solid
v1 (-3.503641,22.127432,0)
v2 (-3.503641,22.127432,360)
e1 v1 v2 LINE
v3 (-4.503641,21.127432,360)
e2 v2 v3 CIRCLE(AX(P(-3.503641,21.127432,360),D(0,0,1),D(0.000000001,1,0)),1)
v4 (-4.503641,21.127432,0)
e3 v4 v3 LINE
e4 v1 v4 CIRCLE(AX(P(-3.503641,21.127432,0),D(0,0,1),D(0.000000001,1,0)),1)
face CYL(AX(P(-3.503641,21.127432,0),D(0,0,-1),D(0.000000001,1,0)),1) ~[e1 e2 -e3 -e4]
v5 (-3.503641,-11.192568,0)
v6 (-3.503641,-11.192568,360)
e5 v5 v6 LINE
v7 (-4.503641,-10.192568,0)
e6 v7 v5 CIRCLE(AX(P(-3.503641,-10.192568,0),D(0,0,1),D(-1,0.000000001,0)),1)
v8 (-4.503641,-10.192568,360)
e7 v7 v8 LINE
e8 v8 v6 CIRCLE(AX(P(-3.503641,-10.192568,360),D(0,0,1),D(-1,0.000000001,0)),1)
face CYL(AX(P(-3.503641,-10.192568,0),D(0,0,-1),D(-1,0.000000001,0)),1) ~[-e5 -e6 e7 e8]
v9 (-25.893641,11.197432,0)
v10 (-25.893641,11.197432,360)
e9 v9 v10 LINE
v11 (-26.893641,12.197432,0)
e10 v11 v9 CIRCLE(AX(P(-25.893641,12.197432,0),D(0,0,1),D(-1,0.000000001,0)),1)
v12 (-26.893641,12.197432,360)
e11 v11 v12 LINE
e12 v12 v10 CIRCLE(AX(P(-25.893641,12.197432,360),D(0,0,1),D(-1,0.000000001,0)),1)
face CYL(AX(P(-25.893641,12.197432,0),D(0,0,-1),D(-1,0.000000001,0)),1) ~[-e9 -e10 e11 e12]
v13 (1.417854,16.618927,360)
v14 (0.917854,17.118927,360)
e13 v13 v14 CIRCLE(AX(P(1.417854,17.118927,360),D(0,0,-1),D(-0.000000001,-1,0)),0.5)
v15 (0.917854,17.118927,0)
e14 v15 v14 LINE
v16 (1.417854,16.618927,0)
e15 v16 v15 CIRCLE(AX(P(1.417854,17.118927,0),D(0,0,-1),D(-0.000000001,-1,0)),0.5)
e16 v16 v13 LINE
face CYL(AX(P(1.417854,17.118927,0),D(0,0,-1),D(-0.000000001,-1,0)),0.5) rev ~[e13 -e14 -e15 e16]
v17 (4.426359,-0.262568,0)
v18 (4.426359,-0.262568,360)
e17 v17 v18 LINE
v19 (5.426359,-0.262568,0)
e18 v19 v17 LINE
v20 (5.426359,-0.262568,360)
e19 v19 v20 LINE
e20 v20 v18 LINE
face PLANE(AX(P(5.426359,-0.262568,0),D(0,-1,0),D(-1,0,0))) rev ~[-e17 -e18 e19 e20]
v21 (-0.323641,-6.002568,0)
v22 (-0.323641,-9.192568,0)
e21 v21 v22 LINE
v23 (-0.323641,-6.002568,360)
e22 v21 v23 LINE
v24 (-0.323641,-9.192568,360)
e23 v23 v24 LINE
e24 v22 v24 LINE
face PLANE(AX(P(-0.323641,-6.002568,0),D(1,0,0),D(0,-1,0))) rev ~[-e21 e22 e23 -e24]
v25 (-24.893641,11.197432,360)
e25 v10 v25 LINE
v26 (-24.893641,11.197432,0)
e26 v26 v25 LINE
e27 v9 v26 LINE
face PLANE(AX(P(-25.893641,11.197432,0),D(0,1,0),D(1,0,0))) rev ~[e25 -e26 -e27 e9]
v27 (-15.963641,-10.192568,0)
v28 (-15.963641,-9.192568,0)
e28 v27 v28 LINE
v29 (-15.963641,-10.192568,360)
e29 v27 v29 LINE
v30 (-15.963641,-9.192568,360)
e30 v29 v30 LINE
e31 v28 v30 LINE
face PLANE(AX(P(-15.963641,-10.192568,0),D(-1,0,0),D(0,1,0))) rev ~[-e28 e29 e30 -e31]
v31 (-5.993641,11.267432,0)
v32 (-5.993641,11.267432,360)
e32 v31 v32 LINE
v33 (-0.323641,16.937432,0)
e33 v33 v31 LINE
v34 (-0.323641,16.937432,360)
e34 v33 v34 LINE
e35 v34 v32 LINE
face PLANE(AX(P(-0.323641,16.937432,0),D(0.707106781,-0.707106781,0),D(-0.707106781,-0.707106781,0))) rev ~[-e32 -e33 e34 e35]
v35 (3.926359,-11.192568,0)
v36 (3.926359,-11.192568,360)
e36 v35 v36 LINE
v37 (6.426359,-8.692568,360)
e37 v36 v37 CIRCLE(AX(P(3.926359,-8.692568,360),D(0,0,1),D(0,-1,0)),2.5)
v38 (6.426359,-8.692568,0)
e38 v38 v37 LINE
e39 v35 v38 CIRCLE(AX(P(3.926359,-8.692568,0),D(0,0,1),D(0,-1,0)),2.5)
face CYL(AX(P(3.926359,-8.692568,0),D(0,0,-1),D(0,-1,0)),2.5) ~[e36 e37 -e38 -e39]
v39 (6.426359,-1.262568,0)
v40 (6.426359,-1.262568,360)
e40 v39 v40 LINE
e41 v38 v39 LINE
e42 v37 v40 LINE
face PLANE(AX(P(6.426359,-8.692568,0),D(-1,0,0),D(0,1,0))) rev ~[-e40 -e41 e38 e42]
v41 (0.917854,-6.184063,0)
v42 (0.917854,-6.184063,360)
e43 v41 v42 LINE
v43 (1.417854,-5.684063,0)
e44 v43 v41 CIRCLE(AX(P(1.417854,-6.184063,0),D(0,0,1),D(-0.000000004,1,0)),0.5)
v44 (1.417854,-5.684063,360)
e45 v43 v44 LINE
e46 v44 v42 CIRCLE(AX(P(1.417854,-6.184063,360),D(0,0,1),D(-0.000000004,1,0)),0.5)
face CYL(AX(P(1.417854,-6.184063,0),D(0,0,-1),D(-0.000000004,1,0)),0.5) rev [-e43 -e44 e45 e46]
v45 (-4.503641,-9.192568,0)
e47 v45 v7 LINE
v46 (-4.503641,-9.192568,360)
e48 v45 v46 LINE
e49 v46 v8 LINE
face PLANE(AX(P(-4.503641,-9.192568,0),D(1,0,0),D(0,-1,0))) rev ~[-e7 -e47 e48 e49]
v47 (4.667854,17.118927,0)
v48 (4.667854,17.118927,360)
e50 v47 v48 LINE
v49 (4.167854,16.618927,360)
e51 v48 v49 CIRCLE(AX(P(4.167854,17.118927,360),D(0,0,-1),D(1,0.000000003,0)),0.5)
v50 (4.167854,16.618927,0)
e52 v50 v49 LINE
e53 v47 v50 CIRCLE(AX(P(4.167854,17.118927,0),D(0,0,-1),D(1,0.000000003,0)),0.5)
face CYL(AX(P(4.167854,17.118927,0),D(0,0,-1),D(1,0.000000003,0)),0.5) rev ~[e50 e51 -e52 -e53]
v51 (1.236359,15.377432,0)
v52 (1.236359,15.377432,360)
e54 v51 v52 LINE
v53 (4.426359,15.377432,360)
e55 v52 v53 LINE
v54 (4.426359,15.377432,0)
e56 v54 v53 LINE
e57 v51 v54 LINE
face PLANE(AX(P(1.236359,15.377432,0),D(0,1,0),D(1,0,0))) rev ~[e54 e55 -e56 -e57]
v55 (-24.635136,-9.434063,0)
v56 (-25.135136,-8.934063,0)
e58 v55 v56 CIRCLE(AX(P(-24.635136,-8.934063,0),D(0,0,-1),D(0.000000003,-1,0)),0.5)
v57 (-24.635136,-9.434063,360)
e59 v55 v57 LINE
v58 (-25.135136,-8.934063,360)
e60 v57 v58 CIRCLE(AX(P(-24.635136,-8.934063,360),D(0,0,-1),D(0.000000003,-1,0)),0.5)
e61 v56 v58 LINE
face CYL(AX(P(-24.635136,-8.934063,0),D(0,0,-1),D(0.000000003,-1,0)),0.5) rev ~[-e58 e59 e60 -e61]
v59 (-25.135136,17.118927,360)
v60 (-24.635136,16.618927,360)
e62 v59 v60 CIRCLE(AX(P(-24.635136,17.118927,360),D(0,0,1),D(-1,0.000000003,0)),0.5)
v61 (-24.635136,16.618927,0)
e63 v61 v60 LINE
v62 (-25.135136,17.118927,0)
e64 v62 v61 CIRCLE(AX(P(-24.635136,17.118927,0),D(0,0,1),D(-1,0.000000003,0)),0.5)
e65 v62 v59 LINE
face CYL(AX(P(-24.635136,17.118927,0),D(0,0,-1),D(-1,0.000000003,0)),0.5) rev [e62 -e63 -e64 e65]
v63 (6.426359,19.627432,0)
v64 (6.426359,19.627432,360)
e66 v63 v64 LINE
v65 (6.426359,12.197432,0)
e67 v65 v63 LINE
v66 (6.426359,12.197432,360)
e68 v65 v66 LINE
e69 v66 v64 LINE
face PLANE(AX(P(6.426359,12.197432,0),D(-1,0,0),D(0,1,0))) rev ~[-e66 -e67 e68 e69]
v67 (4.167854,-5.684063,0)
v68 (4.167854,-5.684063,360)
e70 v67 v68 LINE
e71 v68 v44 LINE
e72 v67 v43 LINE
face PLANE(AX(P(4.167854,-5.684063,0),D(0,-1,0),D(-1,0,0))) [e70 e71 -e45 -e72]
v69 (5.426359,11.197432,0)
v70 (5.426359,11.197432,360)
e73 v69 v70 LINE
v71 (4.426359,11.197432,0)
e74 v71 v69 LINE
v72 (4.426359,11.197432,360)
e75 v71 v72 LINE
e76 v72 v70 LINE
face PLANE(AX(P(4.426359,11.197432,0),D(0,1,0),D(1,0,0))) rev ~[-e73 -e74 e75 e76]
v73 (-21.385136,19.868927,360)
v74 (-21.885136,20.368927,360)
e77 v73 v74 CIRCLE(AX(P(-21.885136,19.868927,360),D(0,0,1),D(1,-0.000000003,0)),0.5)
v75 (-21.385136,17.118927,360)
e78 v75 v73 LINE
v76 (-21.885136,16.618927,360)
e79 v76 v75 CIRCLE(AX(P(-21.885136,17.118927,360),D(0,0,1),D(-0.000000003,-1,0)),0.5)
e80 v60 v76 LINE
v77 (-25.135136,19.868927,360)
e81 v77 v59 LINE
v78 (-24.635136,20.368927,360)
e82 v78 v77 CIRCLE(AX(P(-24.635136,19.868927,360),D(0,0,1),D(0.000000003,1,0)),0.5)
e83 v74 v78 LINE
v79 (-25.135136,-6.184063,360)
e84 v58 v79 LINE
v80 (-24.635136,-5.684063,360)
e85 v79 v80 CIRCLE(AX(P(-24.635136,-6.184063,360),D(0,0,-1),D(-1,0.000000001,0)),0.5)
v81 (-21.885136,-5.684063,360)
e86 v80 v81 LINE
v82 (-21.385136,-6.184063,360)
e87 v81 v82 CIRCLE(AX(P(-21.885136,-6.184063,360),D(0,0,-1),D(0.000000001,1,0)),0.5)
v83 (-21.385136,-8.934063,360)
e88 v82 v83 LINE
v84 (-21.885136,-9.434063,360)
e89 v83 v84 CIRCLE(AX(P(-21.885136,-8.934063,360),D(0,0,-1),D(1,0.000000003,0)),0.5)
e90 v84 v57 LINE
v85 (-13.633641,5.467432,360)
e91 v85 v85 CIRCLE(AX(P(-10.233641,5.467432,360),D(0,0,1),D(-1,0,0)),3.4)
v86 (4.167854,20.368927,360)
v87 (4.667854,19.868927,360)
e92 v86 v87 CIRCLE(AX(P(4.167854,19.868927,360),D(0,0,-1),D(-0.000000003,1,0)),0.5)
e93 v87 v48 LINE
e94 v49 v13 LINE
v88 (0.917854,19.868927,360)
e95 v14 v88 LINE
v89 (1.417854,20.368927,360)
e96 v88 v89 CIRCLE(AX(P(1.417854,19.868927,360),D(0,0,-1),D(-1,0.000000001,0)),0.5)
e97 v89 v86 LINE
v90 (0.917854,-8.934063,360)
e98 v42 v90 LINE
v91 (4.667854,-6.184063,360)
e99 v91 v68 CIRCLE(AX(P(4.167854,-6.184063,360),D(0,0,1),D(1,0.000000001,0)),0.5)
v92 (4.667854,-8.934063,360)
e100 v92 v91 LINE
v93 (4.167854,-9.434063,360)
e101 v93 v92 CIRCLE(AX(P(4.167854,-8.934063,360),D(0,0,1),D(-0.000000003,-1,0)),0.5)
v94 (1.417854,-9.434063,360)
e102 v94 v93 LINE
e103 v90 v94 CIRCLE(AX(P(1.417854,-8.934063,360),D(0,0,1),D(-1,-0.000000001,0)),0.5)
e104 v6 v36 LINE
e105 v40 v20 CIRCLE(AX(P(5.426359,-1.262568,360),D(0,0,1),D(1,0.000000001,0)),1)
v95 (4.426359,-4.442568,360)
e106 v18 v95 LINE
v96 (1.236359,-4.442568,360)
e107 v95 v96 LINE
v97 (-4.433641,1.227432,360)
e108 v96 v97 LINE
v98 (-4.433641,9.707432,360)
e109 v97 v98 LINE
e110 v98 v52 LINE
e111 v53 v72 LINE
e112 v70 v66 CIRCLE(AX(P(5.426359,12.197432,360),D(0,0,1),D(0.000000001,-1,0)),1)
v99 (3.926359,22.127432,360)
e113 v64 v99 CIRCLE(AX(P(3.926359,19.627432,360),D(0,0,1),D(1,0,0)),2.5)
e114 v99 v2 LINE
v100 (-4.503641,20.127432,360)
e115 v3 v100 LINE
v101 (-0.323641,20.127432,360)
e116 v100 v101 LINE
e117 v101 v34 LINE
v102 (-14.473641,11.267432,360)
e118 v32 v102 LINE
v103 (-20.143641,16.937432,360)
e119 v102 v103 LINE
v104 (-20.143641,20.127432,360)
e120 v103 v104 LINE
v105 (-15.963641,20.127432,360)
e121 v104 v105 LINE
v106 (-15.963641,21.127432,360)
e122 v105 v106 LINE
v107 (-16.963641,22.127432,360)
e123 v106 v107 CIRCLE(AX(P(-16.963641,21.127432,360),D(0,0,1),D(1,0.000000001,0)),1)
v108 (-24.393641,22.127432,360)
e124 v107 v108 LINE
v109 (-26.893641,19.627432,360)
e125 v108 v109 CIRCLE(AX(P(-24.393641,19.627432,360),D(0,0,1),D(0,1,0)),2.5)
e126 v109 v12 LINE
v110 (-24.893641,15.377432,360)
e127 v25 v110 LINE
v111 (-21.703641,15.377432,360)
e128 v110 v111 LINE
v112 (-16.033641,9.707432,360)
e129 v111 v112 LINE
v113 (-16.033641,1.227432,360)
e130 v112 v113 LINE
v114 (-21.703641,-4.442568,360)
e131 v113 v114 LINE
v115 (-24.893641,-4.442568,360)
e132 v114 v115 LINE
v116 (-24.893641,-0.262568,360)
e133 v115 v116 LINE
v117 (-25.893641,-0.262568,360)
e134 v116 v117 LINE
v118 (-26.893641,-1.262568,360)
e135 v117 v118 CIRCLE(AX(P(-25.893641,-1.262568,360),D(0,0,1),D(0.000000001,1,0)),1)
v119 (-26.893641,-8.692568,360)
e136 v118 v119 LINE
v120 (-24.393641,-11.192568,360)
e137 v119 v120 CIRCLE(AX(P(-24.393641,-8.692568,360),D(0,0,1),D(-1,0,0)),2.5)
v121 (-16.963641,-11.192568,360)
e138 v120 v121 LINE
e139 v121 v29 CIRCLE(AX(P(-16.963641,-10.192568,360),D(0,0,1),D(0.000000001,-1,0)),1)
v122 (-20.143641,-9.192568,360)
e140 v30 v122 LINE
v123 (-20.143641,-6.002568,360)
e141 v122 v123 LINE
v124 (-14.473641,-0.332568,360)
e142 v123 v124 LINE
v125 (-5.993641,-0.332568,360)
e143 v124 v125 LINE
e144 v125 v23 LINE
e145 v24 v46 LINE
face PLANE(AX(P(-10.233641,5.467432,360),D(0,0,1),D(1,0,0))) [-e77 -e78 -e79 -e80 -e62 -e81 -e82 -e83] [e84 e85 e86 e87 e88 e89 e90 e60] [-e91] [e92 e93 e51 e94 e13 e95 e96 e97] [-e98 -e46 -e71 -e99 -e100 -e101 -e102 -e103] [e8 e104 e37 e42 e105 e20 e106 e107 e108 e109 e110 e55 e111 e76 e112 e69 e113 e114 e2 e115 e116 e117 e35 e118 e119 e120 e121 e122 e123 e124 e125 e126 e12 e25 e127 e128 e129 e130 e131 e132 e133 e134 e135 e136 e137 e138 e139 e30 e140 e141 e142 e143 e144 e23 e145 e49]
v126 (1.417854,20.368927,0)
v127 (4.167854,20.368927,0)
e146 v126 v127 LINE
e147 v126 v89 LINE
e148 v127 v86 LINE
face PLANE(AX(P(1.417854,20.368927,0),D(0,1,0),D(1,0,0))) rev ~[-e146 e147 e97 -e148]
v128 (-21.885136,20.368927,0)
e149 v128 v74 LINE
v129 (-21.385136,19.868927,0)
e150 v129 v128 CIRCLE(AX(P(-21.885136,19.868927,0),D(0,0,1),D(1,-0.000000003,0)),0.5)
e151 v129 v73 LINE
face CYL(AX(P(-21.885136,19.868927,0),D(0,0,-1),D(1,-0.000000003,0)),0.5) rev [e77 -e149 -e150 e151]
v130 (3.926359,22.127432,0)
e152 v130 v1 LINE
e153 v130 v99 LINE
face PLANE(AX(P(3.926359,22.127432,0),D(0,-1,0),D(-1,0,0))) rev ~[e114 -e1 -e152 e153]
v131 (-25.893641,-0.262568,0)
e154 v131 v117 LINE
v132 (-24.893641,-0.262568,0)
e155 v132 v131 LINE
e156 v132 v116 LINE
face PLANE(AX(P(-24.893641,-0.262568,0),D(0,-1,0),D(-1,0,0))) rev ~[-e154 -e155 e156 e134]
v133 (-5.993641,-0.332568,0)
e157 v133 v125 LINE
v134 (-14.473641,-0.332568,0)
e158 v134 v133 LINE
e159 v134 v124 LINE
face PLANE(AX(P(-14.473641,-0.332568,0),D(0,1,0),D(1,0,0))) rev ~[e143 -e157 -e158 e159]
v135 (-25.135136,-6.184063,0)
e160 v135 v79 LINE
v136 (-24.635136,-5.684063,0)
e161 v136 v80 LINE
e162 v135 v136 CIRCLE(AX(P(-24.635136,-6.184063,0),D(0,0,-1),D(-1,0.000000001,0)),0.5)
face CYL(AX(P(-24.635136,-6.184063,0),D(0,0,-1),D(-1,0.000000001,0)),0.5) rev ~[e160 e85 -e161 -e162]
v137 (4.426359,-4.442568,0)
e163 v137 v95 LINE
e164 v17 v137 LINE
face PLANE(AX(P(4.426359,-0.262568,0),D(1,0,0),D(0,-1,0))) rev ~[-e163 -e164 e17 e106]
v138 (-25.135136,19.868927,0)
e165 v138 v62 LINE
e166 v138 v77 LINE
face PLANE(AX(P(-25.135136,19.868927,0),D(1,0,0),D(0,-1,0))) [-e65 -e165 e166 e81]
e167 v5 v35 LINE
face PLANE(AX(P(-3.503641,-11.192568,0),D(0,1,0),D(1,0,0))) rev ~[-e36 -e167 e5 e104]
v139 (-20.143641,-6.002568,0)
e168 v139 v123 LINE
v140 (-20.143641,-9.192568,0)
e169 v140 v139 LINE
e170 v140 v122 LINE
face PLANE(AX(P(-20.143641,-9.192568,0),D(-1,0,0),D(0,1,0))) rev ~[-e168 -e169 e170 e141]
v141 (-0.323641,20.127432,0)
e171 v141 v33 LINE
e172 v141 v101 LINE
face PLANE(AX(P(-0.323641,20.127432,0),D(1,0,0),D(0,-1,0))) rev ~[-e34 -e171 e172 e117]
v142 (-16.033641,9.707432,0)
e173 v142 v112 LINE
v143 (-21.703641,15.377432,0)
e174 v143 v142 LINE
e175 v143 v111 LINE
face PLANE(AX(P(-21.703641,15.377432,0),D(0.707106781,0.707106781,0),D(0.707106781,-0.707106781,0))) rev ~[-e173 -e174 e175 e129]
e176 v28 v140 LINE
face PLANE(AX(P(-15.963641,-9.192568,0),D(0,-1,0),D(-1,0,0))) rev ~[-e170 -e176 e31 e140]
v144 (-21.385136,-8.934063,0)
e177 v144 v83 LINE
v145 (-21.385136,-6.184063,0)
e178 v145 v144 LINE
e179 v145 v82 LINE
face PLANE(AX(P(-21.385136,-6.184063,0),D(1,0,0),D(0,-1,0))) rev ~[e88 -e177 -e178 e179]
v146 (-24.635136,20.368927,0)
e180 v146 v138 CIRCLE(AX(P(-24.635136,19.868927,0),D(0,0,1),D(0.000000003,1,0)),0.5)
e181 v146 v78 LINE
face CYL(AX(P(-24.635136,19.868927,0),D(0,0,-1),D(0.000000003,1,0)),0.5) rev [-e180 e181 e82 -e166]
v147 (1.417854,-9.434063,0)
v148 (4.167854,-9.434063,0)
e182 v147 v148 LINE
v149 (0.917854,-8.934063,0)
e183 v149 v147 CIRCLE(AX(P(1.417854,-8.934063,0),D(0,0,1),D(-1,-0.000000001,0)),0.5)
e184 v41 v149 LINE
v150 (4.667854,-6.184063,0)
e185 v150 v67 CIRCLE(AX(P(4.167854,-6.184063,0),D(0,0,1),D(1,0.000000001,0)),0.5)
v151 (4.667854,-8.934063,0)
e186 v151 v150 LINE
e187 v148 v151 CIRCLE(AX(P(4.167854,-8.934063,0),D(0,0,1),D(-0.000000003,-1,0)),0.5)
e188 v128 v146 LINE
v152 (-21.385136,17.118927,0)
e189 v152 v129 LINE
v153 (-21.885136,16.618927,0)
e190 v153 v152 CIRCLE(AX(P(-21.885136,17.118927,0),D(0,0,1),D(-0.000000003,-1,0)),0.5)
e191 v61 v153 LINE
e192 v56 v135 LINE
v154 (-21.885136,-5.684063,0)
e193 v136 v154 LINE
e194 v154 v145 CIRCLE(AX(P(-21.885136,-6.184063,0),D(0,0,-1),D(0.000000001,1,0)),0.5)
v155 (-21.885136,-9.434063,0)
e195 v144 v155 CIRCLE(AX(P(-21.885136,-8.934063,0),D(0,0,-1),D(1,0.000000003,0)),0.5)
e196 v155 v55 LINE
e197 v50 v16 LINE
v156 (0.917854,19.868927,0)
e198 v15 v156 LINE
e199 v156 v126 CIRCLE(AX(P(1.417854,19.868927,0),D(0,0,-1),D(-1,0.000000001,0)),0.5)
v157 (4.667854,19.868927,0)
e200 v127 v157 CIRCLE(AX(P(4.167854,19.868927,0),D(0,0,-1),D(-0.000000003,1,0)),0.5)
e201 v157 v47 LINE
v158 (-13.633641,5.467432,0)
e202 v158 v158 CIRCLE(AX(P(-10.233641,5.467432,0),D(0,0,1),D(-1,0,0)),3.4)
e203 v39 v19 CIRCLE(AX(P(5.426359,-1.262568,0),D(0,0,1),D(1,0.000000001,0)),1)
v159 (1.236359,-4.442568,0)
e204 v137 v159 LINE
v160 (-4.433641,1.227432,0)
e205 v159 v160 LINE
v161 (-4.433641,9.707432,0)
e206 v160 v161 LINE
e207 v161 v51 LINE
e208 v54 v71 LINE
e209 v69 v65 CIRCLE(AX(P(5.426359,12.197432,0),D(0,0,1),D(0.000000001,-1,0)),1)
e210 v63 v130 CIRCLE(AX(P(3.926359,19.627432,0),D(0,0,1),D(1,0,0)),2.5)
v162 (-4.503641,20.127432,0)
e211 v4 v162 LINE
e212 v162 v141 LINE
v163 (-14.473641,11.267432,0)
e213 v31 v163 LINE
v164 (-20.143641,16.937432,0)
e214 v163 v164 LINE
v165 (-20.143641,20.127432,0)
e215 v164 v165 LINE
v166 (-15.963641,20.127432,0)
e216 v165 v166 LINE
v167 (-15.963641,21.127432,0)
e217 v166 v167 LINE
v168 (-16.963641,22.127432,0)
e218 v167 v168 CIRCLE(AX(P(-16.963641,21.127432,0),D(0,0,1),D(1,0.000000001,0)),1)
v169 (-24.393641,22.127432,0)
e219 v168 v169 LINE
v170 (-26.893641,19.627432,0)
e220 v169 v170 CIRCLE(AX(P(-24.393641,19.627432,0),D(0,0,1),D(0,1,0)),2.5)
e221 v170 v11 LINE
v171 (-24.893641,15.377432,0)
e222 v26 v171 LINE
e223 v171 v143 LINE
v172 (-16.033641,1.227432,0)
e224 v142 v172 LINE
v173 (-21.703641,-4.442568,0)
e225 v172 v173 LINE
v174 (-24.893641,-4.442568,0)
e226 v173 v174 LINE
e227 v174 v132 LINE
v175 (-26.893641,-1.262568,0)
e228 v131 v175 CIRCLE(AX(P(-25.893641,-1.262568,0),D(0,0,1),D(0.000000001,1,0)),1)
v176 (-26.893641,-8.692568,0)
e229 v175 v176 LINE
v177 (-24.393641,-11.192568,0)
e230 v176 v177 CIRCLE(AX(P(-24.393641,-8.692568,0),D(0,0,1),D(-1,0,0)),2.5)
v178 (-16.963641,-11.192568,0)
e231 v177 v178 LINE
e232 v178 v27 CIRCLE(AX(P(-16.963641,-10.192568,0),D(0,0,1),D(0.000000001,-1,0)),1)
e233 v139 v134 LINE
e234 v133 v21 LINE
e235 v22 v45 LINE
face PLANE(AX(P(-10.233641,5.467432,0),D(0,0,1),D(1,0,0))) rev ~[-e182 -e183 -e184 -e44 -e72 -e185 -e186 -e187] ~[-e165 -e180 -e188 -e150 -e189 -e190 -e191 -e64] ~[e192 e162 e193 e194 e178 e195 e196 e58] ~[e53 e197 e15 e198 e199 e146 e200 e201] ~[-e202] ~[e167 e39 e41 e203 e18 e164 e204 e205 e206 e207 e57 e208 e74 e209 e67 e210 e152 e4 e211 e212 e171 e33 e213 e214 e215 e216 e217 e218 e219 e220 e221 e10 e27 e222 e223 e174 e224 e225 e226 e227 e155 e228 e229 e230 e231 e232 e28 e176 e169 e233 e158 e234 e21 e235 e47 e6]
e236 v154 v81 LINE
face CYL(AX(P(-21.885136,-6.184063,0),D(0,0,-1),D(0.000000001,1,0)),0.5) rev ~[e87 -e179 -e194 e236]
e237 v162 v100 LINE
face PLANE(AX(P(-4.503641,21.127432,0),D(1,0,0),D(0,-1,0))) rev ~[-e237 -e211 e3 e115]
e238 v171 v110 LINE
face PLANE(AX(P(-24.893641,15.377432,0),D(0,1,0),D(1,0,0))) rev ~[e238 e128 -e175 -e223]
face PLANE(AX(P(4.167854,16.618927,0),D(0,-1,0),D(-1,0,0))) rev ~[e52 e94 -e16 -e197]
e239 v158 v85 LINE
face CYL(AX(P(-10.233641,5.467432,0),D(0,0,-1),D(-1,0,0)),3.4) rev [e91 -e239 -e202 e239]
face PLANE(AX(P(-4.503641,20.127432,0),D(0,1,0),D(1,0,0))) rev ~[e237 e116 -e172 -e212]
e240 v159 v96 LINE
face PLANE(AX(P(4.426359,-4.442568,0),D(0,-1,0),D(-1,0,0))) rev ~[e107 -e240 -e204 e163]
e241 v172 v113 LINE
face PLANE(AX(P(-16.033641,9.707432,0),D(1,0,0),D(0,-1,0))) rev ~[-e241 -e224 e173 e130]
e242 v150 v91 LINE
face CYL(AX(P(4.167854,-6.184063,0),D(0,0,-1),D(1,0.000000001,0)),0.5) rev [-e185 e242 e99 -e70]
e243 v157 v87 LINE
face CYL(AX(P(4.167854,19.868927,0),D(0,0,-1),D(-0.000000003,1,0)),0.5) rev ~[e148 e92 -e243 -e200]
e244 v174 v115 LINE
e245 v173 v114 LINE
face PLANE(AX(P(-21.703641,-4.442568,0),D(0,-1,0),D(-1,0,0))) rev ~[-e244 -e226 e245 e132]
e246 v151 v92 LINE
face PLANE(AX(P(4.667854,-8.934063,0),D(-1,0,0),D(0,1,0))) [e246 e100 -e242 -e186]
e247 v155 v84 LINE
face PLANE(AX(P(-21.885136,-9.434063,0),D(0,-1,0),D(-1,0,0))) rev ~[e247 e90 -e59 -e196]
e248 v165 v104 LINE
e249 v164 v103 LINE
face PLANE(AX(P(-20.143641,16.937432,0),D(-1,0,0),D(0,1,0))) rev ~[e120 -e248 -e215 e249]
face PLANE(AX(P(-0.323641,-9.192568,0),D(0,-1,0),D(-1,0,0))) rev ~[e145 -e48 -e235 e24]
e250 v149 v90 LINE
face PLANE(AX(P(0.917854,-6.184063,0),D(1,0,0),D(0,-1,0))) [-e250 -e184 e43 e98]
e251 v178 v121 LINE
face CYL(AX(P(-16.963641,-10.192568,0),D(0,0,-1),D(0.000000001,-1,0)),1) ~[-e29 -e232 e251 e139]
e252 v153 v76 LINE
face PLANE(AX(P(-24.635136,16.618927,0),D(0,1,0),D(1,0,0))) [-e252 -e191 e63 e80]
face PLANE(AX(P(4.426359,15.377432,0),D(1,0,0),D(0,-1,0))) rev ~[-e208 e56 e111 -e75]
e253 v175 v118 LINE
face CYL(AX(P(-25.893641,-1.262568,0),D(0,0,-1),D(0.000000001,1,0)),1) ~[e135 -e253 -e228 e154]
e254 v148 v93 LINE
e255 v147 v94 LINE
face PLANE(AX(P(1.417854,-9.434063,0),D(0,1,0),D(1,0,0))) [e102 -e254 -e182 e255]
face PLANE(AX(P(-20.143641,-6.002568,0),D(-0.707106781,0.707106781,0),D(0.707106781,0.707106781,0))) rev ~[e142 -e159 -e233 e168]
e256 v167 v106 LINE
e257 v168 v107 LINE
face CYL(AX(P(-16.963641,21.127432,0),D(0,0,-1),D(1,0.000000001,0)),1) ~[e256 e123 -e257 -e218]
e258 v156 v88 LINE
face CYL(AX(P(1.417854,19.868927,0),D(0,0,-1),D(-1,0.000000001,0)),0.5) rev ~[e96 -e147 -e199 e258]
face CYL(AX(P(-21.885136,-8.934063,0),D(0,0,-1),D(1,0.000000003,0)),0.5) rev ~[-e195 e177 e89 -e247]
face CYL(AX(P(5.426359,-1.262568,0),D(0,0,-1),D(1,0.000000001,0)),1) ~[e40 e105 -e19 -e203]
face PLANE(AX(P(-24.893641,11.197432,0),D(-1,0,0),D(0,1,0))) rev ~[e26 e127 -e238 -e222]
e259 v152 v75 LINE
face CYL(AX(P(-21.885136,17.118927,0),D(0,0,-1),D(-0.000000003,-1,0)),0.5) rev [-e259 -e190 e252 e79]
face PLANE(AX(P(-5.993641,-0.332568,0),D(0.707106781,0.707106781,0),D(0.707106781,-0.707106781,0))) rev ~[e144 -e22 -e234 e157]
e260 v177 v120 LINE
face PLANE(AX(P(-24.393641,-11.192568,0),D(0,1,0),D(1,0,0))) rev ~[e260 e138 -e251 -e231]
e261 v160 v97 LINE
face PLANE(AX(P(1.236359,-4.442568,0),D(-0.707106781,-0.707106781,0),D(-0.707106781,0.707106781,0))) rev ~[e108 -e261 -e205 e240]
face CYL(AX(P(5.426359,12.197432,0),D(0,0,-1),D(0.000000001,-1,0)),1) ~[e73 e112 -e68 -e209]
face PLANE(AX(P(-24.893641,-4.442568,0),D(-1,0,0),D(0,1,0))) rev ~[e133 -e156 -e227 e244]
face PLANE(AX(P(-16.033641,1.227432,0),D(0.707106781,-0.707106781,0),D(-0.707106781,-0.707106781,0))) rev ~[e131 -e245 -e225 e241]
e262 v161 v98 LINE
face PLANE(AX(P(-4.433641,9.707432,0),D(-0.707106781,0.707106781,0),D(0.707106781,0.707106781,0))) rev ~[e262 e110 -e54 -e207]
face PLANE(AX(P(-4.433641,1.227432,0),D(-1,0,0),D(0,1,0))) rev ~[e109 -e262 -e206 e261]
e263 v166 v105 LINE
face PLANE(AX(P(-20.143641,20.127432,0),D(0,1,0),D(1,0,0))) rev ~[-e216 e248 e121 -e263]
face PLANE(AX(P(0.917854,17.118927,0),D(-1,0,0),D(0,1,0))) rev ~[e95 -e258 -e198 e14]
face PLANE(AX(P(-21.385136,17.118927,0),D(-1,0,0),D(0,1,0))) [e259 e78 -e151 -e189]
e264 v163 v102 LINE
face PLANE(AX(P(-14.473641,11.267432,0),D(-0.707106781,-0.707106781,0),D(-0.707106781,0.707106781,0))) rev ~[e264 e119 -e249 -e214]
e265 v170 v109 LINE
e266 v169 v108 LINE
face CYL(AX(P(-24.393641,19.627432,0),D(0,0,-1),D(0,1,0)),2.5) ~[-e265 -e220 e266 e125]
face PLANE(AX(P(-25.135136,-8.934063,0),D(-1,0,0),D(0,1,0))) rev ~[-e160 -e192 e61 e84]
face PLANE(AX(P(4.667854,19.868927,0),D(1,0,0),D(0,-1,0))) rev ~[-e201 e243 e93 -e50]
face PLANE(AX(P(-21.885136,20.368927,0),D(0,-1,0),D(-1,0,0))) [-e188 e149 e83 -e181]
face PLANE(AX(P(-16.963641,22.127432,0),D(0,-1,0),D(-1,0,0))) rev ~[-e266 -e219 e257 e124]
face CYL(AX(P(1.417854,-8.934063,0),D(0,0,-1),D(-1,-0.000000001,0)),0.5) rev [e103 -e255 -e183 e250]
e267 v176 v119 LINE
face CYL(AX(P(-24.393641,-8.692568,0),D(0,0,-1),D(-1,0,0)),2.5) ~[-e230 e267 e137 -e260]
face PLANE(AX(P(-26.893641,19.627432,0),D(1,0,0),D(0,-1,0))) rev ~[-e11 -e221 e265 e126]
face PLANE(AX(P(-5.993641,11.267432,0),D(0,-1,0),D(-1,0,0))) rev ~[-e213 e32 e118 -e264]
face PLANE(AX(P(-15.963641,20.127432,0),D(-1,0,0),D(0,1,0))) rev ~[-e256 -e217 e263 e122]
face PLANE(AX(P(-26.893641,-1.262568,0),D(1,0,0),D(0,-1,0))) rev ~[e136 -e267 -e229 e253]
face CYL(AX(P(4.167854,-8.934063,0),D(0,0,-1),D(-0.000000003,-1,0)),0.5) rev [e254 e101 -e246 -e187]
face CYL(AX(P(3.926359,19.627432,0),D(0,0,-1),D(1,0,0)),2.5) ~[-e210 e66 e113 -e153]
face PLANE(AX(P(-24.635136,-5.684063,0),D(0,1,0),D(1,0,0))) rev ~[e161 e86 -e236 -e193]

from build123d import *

# Parameters (mm, degrees)
CROQUIS1_R              = 3.4
SALIENTE_EXTRUIR1_DEPTH = 360


with BuildPart() as part:
    # Croquis1 → Saliente-Extruir1 (new body)
    with BuildSketch(Plane.XY):
        with BuildLine():
            Line((-4.433640906, 1.227432273), (-4.433640906, 9.707432273))
            Line((-4.433640906, 9.707432273), (1.236359094, 15.377432273))
            Line((1.236359094, 15.377432273), (4.426359094, 15.377432273))
            Line((4.426359094, 15.377432273), (4.426359094, 11.197432273))
            Line((4.426359094, 11.197432273), (5.426359094, 11.197432273))
            ThreePointArc((5.426359094, 11.197432273), (6.133465875, 11.490325492), (6.426359094, 12.197432273))
            Line((6.426359094, 12.197432273), (6.426359094, 19.627432273))
            ThreePointArc((6.426359094, 19.627432273), (5.694126047, 21.395199226), (3.926359094, 22.127432273))
            Line((3.926359094, 22.127432273), (-3.503640906, 22.127432273))
            ThreePointArc((-3.503640906, 22.127432273), (-4.210747688, 21.834539054), (-4.503640906, 21.127432273))
            Line((-4.503640906, 21.127432273), (-4.503640906, 20.127432273))
            Line((-4.503640906, 20.127432273), (-0.323640906, 20.127432273))
            Line((-0.323640906, 20.127432273), (-0.323640906, 16.937432273))
            Line((-0.323640906, 16.937432273), (-5.993640906, 11.267432273))
            Line((-5.993640906, 11.267432273), (-14.473640906, 11.267432273))
            Line((-14.473640906, 11.267432273), (-20.143640906, 16.937432273))
            Line((-20.143640906, 16.937432273), (-20.143640906, 20.127432273))
            Line((-20.143640906, 20.127432273), (-15.963640906, 20.127432273))
            Line((-15.963640906, 20.127432273), (-15.963640906, 21.127432273))
            ThreePointArc((-15.963640906, 21.127432273), (-16.256534125, 21.834539054), (-16.963640906, 22.127432273))
            Line((-16.963640906, 22.127432273), (-24.393640906, 22.127432273))
            ThreePointArc((-24.393640906, 22.127432273), (-26.161407859, 21.395199226), (-26.893640906, 19.627432273))
            Line((-26.893640906, 19.627432273), (-26.893640906, 12.197432273))
            ThreePointArc((-26.893640906, 12.197432273), (-26.600747688, 11.490325492), (-25.893640906, 11.197432273))
            Line((-25.893640906, 11.197432273), (-24.893640906, 11.197432273))
            Line((-24.893640906, 11.197432273), (-24.893640906, 15.377432273))
            Line((-24.893640906, 15.377432273), (-21.703640906, 15.377432273))
            Line((-21.703640906, 15.377432273), (-16.033640906, 9.707432273))
            Line((-16.033640906, 9.707432273), (-16.033640906, 1.227432273))
            Line((-16.033640906, 1.227432273), (-21.703640906, -4.442567727))
            Line((-21.703640906, -4.442567727), (-24.893640906, -4.442567727))
            Line((-24.893640906, -4.442567727), (-24.893640906, -0.262567727))
            Line((-24.893640906, -0.262567727), (-25.893640906, -0.262567727))
            ThreePointArc((-25.893640906, -0.262567727), (-26.600747688, -0.555460946), (-26.893640906, -1.262567727))
            Line((-26.893640906, -1.262567727), (-26.893640906, -8.692567727))
            ThreePointArc((-26.893640906, -8.692567727), (-26.161407859, -10.46033468), (-24.393640906, -11.192567727))
            Line((-24.393640906, -11.192567727), (-16.963640906, -11.192567727))
            ThreePointArc((-16.963640906, -11.192567727), (-16.256534125, -10.899674508), (-15.963640906, -10.192567727))
            Line((-15.963640906, -10.192567727), (-15.963640906, -9.192567727))
            Line((-15.963640906, -9.192567727), (-20.143640906, -9.192567727))
            Line((-20.143640906, -9.192567727), (-20.143640906, -6.002567727))
            Line((-20.143640906, -6.002567727), (-14.473640906, -0.332567727))
            Line((-14.473640906, -0.332567727), (-5.993640906, -0.332567727))
            Line((-5.993640906, -0.332567727), (-0.323640906, -6.002567727))
            Line((-0.323640906, -6.002567727), (-0.323640906, -9.192567727))
            Line((-0.323640906, -9.192567727), (-4.503640906, -9.192567727))
            Line((-4.503640906, -9.192567727), (-4.503640906, -10.192567727))
            ThreePointArc((-4.503640906, -10.192567727), (-4.210747688, -10.899674508), (-3.503640906, -11.192567727))
            Line((-3.503640906, -11.192567727), (3.926359094, -11.192567727))
            ThreePointArc((3.926359094, -11.192567727), (5.694126047, -10.46033468), (6.426359094, -8.692567727))
            Line((6.426359094, -8.692567727), (6.426359094, -1.262567727))
            ThreePointArc((6.426359094, -1.262567727), (6.133465875, -0.555460946), (5.426359094, -0.262567727))
            Line((5.426359094, -0.262567727), (4.426359094, -0.262567727))
            Line((4.426359094, -0.262567727), (4.426359094, -4.442567727))
            Line((4.426359094, -4.442567727), (1.236359094, -4.442567727))
            Line((1.236359094, -4.442567727), (-4.433640906, 1.227432273))
        make_face()
        with Locations(Location((-10.233640906, 5.467432273, 0), (0, 0, 180))):
            Circle(CROQUIS1_R, mode=Mode.SUBTRACT)
        with BuildLine():
            Line((1.417854227, 20.368927407), (4.167854227, 20.368927407))
            ThreePointArc((4.167854227, 20.368927407), (4.521407618, 20.222480798), (4.667854227, 19.868927407))
            Line((4.667854227, 19.868927407), (4.667854227, 17.118927407))
            ThreePointArc((4.667854227, 17.118927407), (4.521407618, 16.765374016), (4.167854227, 16.618927407))
            Line((4.167854227, 16.618927407), (1.417854227, 16.618927407))
            ThreePointArc((1.417854227, 16.618927407), (1.064300837, 16.765374016), (0.917854227, 17.118927407))
            Line((0.917854227, 17.118927407), (0.917854227, 19.868927407))
            ThreePointArc((0.917854227, 19.868927407), (1.064300837, 20.222480798), (1.417854227, 20.368927407))
        make_face(mode=Mode.SUBTRACT)
        with BuildLine():
            Line((-25.13513604, 19.868927407), (-25.13513604, 17.118927407))
            ThreePointArc((-25.13513604, 17.118927407), (-24.988689431, 16.765374016), (-24.63513604, 16.618927407))
            Line((-24.63513604, 16.618927407), (-21.88513604, 16.618927407))
            ThreePointArc((-21.88513604, 16.618927407), (-21.531582649, 16.765374016), (-21.38513604, 17.118927407))
            Line((-21.38513604, 17.118927407), (-21.38513604, 19.868927407))
            ThreePointArc((-21.38513604, 19.868927407), (-21.531582649, 20.222480798), (-21.88513604, 20.368927407))
            Line((-21.88513604, 20.368927407), (-24.63513604, 20.368927407))
            ThreePointArc((-24.63513604, 20.368927407), (-24.988689431, 20.222480798), (-25.13513604, 19.868927407))
        make_face(mode=Mode.SUBTRACT)
        with BuildLine():
            Line((-21.88513604, -9.43406286), (-24.63513604, -9.43406286))
            ThreePointArc((-24.63513604, -9.43406286), (-24.988689431, -9.287616251), (-25.13513604, -8.93406286))
            Line((-25.13513604, -8.93406286), (-25.13513604, -6.18406286))
            ThreePointArc((-25.13513604, -6.18406286), (-24.988689431, -5.83050947), (-24.63513604, -5.68406286))
            Line((-24.63513604, -5.68406286), (-21.88513604, -5.68406286))
            ThreePointArc((-21.88513604, -5.68406286), (-21.531582649, -5.83050947), (-21.38513604, -6.18406286))
            Line((-21.38513604, -6.18406286), (-21.38513604, -8.93406286))
            ThreePointArc((-21.38513604, -8.93406286), (-21.531582649, -9.287616251), (-21.88513604, -9.43406286))
        make_face(mode=Mode.SUBTRACT)
        with BuildLine():
            Line((4.667854227, -8.93406286), (4.667854227, -6.18406286))
            ThreePointArc((4.667854227, -6.18406286), (4.521407618, -5.83050947), (4.167854227, -5.68406286))
            Line((4.167854227, -5.68406286), (1.417854227, -5.68406286))
            ThreePointArc((1.417854227, -5.68406286), (1.064300837, -5.83050947), (0.917854227, -6.18406286))
            Line((0.917854227, -6.18406286), (0.917854227, -8.93406286))
            ThreePointArc((0.917854227, -8.93406286), (1.064300837, -9.287616251), (1.417854227, -9.43406286))
            Line((1.417854227, -9.43406286), (4.167854227, -9.43406286))
            ThreePointArc((4.167854227, -9.43406286), (4.521407618, -9.287616251), (4.667854227, -8.93406286))
        make_face(mode=Mode.SUBTRACT)
    extrude(amount=SALIENTE_EXTRUIR1_DEPTH)


solid = part.part
